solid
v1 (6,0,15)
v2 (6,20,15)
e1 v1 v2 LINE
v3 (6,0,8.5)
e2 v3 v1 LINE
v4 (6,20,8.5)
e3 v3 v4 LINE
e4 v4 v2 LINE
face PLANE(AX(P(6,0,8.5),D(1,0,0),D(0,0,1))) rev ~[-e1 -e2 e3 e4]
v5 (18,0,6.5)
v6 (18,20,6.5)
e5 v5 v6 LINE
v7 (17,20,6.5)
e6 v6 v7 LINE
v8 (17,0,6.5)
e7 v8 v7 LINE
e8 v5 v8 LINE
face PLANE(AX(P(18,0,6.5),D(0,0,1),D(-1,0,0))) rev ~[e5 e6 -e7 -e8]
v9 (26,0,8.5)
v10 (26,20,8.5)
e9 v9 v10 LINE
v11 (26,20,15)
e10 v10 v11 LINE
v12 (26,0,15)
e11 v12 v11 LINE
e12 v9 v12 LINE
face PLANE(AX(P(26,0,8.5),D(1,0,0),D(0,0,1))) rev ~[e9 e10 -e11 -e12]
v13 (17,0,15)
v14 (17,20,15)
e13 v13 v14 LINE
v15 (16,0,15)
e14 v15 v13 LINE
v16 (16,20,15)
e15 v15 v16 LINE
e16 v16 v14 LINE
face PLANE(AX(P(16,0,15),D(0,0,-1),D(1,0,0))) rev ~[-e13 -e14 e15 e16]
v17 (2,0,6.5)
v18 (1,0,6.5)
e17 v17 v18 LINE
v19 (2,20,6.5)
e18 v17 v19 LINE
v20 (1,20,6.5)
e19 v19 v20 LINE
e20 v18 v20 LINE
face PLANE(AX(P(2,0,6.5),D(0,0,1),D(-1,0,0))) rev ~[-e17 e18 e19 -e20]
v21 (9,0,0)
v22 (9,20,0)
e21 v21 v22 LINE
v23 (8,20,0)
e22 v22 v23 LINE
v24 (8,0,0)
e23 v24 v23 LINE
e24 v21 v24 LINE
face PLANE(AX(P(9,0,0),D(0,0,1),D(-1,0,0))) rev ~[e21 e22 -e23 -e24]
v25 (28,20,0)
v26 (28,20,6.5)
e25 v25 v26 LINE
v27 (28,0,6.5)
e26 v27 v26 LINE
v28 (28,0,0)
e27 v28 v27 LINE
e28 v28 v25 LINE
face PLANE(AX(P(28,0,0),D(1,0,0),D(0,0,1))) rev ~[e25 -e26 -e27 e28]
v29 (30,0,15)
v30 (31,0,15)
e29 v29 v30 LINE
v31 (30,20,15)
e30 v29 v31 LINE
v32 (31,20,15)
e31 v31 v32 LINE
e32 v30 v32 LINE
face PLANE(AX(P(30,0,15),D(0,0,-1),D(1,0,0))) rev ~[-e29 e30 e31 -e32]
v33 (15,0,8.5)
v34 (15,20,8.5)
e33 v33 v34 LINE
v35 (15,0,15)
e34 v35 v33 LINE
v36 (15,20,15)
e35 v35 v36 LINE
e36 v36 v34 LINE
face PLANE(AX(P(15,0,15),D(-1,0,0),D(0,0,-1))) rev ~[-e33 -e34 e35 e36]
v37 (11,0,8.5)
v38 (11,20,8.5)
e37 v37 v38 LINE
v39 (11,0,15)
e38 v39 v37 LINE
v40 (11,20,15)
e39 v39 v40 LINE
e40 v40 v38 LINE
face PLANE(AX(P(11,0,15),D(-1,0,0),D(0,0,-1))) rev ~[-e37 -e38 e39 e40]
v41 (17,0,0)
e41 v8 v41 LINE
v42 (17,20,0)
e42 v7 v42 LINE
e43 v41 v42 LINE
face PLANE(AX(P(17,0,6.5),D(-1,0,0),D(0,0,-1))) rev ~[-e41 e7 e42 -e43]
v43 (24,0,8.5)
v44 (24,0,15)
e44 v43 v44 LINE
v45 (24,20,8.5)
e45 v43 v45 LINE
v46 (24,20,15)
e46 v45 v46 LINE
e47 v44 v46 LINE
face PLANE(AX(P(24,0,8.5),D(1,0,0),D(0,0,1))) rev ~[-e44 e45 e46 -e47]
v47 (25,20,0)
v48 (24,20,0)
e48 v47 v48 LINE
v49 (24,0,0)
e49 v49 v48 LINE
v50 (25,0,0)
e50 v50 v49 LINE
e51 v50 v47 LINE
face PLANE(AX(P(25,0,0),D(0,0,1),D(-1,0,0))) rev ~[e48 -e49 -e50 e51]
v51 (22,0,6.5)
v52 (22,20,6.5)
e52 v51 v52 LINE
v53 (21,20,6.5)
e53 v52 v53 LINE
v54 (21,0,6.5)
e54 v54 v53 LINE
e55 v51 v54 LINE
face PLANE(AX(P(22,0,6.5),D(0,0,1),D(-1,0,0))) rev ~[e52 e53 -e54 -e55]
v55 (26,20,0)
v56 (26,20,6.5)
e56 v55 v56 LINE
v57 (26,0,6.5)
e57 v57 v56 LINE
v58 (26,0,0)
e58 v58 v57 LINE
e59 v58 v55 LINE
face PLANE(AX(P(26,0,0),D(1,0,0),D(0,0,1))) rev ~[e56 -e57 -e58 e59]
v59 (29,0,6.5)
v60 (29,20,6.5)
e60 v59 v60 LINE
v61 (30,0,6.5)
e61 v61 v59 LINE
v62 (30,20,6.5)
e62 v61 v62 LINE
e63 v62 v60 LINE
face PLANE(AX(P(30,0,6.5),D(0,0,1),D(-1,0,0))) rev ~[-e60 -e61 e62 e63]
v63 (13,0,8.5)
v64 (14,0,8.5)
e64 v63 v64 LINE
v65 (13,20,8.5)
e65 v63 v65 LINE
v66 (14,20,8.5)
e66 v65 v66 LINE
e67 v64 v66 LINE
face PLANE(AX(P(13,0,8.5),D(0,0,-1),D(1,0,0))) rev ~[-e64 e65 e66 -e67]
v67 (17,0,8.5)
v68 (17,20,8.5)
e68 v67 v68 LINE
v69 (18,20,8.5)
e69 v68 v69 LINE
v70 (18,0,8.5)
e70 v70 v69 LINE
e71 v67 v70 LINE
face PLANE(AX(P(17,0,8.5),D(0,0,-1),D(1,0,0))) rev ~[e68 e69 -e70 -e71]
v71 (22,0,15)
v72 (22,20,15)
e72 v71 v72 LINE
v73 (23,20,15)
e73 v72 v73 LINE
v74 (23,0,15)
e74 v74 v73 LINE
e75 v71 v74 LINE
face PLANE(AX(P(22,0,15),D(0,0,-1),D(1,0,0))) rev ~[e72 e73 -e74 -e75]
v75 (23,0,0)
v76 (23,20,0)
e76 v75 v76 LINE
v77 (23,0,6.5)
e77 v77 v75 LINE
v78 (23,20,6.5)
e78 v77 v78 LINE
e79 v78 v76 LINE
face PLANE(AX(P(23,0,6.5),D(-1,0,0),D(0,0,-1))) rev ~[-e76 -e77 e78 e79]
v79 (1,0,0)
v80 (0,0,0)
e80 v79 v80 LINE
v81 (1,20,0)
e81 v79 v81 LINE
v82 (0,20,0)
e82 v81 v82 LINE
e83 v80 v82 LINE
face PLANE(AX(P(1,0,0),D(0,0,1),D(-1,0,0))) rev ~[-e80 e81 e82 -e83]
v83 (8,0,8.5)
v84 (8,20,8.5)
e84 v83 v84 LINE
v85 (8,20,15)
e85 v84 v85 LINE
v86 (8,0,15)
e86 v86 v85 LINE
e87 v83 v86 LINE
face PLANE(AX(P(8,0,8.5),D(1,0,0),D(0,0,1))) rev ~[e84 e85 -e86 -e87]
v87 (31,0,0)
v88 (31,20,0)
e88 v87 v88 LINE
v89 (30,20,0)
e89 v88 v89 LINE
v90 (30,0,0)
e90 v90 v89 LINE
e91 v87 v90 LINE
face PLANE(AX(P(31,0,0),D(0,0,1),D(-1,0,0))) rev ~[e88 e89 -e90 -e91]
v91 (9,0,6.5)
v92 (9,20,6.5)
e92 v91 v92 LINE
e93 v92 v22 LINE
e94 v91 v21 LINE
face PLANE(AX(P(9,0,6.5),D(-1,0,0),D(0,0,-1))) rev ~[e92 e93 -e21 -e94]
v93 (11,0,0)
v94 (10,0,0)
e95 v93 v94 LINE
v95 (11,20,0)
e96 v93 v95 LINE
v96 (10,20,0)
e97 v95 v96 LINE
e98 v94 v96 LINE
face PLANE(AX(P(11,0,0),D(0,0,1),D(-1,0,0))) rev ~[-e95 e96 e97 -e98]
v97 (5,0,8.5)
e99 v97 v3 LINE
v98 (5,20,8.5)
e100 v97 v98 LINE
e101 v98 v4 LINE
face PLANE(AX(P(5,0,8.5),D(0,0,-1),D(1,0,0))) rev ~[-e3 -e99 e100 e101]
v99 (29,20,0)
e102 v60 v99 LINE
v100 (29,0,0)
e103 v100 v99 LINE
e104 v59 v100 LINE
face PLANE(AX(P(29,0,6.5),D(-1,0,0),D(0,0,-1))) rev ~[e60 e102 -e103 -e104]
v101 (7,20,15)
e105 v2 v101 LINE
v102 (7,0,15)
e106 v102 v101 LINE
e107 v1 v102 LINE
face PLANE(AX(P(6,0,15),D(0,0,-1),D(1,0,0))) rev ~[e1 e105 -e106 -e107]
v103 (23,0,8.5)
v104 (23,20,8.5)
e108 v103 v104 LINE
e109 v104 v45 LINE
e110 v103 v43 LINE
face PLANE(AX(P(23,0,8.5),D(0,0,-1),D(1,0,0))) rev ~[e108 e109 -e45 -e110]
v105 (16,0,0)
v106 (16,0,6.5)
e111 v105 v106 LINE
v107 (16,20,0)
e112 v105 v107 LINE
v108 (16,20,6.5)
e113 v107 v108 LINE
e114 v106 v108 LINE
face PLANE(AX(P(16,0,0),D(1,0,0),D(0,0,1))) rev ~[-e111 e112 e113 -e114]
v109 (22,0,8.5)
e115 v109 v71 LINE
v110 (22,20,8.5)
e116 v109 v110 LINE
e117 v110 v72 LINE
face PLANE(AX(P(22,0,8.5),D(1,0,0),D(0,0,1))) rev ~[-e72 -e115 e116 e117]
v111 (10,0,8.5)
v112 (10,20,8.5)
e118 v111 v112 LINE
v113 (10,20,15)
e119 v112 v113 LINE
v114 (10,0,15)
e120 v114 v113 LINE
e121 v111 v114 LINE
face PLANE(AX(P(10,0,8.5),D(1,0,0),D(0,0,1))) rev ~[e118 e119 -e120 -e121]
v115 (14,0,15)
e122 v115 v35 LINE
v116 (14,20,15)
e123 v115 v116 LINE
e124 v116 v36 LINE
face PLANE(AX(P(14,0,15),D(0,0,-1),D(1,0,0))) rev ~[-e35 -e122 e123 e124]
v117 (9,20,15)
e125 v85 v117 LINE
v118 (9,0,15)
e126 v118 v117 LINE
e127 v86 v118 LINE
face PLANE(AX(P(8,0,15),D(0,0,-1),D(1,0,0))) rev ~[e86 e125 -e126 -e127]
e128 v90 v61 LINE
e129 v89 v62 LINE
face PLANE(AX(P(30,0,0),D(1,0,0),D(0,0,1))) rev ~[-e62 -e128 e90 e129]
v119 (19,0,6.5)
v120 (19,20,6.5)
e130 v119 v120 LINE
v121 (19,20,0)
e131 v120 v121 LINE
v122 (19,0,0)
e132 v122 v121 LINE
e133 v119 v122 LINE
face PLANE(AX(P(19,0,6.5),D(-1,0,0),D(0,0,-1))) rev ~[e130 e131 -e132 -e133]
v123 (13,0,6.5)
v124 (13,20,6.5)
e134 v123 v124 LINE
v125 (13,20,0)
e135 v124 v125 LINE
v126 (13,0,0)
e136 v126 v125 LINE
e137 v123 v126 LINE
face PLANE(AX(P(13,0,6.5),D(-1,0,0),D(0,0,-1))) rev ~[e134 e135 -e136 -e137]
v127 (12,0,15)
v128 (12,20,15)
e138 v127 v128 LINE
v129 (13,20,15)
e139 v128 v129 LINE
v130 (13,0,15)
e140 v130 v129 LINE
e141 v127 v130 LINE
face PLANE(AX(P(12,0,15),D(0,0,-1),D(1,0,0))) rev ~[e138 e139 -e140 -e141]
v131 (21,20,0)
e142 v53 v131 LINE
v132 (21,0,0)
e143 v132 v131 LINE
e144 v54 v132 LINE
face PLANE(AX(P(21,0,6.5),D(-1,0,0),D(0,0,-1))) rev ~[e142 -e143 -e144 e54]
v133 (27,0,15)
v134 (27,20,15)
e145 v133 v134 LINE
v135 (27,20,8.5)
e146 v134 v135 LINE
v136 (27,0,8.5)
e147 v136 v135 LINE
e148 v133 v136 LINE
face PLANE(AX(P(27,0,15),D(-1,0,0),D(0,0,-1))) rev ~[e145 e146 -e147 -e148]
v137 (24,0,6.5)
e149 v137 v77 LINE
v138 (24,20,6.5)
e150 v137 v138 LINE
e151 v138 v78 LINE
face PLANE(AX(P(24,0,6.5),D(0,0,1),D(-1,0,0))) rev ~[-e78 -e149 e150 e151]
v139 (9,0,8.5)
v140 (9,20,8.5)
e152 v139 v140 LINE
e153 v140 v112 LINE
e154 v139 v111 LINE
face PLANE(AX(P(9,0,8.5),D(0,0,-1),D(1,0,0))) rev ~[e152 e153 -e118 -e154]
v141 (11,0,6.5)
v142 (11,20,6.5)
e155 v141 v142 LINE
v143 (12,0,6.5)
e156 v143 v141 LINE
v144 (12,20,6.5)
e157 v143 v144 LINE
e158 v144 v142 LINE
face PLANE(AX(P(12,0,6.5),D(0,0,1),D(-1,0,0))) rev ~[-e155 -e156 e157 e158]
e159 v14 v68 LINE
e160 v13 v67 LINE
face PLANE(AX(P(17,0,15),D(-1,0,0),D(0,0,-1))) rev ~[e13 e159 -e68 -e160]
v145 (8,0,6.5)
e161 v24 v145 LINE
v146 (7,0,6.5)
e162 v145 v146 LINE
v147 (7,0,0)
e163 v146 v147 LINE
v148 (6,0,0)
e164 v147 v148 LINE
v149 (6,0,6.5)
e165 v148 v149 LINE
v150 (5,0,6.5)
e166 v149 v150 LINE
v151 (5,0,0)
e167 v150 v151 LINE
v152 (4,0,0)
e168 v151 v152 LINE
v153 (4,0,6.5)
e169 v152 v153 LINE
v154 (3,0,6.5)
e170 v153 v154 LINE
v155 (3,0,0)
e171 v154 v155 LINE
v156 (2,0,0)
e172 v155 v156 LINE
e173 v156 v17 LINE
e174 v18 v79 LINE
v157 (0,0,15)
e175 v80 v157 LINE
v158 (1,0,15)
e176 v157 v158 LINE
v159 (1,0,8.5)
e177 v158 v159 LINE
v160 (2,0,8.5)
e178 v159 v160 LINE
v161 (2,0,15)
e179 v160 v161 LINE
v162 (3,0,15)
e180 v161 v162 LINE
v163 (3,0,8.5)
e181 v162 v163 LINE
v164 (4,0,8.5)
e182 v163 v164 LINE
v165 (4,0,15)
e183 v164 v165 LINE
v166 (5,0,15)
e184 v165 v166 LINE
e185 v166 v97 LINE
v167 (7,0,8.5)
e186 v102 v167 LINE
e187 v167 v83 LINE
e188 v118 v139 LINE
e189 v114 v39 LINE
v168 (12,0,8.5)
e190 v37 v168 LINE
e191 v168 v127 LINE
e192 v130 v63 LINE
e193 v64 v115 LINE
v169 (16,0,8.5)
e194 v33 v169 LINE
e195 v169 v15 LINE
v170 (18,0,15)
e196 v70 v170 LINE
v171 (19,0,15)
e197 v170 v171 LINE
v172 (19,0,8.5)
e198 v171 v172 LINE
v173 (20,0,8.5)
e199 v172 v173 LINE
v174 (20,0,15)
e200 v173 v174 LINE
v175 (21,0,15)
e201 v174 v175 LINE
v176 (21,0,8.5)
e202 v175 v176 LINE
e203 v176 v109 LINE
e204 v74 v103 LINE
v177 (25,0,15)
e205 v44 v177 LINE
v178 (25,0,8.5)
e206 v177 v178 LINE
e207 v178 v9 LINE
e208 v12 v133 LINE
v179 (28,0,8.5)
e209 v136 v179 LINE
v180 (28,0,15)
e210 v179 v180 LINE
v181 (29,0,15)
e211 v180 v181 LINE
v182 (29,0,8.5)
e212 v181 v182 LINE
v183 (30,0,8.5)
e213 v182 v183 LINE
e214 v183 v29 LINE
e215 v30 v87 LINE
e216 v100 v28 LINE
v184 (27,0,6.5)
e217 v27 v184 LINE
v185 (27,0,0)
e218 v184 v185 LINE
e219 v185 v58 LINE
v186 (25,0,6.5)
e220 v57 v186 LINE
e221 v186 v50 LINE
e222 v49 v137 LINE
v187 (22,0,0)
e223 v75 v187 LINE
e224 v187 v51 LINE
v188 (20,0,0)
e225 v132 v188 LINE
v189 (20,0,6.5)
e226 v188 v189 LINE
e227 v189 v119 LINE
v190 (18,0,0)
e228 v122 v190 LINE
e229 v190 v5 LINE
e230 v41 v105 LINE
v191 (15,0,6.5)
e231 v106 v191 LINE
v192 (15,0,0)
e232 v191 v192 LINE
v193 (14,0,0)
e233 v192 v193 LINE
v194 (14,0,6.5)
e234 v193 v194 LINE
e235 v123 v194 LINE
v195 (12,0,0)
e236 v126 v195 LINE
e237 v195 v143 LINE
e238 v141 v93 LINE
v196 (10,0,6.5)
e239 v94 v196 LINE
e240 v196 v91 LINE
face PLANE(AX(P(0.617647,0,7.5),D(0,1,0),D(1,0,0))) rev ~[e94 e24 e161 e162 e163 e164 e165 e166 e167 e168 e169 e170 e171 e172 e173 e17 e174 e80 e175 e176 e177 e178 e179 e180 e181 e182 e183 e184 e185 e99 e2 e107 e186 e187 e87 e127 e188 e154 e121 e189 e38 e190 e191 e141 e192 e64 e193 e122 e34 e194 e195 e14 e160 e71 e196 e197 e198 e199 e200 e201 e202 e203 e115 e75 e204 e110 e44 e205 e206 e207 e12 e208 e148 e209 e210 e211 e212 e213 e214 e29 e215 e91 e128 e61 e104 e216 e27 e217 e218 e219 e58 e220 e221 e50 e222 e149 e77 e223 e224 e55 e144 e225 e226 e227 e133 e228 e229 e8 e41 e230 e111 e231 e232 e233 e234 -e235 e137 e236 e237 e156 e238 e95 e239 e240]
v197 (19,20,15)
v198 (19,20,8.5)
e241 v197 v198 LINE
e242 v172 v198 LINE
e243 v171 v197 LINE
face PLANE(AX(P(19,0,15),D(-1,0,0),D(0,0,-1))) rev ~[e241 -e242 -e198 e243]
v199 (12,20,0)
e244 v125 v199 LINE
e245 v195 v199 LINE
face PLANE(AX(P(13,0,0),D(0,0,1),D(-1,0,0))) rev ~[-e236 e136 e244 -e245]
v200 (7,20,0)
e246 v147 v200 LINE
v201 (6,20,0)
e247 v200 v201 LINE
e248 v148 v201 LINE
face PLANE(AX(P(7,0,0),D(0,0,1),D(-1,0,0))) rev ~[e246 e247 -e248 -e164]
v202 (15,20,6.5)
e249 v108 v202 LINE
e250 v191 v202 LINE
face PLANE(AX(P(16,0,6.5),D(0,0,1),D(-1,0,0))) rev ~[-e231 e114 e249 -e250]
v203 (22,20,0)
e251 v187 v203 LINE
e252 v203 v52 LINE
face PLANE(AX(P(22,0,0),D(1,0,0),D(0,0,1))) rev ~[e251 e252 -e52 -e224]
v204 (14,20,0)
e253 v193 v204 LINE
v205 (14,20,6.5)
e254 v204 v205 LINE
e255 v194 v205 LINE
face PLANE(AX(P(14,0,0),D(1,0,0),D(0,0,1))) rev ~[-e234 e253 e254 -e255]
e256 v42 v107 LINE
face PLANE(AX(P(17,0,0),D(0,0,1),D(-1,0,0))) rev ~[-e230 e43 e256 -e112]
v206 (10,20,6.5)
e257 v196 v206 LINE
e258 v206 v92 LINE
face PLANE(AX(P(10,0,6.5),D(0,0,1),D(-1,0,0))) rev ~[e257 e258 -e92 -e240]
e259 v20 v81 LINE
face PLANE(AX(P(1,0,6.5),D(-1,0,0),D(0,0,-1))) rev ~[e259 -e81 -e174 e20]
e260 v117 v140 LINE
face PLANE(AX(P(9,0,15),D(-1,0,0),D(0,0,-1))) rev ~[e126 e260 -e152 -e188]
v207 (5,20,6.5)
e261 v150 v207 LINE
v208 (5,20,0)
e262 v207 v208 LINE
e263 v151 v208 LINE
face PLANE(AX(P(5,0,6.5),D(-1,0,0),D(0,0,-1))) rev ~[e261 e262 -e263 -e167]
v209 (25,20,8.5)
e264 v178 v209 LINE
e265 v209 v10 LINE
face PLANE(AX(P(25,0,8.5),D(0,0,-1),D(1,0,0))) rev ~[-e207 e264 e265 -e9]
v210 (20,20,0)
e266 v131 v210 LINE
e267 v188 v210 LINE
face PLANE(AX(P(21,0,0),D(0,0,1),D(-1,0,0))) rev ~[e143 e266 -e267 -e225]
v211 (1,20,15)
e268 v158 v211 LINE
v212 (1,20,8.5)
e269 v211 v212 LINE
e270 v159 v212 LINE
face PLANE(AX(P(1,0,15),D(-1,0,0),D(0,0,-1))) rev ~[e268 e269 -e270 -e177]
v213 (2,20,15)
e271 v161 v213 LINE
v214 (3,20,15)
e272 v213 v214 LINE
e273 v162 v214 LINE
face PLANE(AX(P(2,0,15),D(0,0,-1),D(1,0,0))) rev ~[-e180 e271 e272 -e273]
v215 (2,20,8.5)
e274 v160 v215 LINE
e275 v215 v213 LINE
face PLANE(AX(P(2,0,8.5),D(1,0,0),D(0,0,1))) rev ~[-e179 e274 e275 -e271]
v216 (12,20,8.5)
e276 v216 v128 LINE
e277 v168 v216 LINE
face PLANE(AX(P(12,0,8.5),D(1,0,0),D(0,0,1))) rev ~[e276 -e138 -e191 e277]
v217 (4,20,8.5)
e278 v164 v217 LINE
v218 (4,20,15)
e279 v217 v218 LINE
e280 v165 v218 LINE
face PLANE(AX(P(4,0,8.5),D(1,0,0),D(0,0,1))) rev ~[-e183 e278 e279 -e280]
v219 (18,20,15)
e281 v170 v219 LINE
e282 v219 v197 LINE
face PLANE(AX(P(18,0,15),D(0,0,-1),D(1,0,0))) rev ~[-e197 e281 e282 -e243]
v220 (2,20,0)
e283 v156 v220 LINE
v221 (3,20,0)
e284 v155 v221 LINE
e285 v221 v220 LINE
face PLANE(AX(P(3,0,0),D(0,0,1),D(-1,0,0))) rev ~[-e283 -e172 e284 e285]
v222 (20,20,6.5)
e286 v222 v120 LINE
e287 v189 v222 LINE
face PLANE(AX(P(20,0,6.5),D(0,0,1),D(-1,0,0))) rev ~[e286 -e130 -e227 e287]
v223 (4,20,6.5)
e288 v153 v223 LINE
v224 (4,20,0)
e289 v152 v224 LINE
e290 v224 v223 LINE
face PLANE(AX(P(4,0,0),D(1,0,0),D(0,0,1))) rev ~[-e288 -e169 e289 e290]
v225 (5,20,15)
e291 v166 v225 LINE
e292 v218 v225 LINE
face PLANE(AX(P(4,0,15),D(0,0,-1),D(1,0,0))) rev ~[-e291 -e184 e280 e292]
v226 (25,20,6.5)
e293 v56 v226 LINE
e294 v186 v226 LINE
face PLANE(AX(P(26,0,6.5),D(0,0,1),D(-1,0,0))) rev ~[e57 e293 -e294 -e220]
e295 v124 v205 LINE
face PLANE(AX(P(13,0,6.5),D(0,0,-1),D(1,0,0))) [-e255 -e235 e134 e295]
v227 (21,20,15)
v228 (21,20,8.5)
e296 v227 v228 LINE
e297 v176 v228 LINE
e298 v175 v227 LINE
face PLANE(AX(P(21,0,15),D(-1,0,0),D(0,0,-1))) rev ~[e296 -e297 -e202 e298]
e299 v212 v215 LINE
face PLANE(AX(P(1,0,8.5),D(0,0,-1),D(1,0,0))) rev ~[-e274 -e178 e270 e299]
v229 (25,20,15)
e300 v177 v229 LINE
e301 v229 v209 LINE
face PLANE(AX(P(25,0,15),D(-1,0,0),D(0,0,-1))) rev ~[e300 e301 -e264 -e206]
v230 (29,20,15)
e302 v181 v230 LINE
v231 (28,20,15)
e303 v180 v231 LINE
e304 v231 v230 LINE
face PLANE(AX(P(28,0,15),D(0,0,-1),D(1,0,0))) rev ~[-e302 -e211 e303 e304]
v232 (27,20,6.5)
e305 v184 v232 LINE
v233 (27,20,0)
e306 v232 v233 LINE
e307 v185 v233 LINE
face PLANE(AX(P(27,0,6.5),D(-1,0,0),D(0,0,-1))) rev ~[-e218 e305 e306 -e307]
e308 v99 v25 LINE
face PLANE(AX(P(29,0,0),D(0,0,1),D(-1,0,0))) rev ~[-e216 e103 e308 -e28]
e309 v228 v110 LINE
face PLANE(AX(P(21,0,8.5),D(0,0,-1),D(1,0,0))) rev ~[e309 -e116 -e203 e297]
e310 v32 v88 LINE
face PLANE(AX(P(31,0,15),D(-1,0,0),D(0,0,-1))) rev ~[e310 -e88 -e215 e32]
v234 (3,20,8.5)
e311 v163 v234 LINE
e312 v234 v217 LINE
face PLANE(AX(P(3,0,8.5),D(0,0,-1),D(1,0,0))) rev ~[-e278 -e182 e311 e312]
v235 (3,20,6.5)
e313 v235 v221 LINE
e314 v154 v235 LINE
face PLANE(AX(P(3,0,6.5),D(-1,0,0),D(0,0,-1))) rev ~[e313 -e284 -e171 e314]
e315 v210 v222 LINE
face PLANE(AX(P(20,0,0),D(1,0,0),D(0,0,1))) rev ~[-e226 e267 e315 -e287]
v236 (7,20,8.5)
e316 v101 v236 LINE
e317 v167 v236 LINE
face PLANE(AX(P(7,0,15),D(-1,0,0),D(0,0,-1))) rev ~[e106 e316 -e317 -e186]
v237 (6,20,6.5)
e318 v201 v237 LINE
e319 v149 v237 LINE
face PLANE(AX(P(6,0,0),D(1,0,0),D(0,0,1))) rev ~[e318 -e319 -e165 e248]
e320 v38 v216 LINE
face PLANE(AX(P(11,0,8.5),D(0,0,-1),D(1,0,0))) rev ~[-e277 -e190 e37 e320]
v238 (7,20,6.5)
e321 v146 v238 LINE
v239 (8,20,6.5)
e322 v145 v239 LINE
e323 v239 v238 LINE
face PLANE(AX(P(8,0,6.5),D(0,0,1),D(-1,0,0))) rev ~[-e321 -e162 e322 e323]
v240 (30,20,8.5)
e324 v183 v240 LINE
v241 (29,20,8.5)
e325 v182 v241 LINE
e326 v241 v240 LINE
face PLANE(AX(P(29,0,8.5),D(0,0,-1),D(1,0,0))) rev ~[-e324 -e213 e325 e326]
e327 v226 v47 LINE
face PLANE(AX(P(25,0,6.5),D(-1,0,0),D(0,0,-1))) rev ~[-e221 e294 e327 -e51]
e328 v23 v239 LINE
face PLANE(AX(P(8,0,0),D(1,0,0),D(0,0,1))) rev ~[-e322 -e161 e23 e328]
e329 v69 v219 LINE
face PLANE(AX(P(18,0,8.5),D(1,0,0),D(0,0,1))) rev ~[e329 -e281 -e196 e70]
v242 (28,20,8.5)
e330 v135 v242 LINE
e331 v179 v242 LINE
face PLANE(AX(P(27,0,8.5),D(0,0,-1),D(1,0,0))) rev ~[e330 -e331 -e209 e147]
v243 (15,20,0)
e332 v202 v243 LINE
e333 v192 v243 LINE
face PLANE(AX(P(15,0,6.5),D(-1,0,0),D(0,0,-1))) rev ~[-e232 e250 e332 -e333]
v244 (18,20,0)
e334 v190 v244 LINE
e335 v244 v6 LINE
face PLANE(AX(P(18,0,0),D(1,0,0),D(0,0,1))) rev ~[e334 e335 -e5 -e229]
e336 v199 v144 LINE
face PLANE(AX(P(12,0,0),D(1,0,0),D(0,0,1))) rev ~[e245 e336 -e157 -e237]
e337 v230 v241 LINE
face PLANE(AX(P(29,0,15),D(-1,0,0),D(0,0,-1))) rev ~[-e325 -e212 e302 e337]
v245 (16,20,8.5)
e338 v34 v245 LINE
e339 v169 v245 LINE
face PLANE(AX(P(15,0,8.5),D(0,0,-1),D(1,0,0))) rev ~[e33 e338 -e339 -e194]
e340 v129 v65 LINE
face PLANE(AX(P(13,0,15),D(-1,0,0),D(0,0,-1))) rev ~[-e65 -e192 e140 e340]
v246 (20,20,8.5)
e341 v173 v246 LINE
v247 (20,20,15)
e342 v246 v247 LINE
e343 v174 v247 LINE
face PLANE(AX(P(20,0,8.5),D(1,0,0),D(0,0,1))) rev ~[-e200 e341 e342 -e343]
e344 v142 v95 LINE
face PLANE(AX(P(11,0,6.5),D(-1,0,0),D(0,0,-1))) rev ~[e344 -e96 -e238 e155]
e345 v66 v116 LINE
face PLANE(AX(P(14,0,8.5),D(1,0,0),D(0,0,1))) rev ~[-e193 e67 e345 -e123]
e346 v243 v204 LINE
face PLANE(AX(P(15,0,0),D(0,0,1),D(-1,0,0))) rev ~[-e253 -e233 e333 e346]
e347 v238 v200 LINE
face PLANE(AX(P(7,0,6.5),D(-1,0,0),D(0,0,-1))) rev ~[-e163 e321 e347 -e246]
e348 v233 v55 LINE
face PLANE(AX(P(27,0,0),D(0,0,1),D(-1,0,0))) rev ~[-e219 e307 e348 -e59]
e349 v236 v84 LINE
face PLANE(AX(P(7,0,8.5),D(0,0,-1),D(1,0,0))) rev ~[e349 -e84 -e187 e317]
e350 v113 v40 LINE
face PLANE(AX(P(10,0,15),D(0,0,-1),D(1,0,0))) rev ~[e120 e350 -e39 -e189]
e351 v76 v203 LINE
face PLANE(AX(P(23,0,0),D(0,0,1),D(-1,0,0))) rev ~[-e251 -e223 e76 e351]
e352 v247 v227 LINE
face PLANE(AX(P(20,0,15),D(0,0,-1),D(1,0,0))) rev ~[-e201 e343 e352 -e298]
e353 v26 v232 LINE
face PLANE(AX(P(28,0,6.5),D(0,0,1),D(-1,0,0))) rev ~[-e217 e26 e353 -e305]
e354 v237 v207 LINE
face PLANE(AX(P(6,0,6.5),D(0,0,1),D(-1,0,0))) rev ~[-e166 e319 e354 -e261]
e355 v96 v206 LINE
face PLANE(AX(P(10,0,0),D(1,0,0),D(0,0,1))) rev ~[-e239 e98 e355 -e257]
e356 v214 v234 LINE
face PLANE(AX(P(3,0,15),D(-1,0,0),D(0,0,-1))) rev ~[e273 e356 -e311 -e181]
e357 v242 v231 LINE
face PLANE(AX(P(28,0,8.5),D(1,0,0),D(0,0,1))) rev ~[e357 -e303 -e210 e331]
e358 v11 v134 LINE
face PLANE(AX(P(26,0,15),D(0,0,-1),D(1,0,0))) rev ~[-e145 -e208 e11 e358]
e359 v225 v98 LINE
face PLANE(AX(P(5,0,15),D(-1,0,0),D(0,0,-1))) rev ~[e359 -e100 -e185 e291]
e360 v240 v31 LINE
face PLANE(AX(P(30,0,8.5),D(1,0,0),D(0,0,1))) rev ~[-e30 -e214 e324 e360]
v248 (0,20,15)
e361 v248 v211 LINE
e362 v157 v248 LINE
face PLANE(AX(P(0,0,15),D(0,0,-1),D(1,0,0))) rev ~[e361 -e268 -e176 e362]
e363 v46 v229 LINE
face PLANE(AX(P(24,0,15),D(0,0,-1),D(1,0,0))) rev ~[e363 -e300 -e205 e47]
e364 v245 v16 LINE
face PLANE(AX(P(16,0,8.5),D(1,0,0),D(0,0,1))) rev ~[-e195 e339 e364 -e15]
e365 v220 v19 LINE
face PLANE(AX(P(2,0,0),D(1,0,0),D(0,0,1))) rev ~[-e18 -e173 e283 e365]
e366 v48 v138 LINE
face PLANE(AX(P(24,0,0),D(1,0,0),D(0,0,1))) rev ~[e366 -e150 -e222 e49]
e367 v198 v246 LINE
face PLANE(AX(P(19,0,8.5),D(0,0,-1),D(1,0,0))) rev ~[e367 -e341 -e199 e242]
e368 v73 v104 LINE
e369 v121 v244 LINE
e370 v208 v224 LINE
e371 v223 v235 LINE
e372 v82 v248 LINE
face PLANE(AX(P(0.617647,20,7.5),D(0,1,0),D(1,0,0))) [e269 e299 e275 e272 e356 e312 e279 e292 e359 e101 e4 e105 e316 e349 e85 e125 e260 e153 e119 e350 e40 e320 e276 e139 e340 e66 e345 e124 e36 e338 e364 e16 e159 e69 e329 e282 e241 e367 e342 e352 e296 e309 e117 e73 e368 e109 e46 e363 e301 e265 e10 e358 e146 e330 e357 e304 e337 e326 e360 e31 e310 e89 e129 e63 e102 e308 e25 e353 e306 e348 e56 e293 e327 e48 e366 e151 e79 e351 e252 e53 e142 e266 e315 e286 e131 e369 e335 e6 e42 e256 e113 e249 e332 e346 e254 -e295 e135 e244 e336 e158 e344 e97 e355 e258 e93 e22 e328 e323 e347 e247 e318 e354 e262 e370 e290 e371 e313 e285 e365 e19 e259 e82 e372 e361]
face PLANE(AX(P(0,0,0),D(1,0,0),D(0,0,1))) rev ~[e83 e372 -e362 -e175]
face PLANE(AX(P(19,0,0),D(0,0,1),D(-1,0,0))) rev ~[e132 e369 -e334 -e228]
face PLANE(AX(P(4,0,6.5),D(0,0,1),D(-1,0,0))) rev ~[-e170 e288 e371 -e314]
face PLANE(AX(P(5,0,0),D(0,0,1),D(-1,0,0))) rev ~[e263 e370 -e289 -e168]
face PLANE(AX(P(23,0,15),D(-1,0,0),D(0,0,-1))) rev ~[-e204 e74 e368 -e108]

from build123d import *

# Parameters (mm, degrees)
SKETCH2_W           = 1
SKETCH2_H           = 2
BOSS_EXTRUDE1_DEPTH = 20


with BuildPart() as part:
    # Sketch2 → Boss-Extrude1 (new body)
    with BuildSketch(Plane(origin=(0, 0, 0), x_dir=(1, 0, 0), z_dir=(0, 1, 0))):
        Polygon((1, 0), (0, 0), (0, -15), (1, -15), (1, -8.5), (2, -8.5), (2, -6.5), (1, -6.5), align=None)
        Polygon((2, 0), (2, -6.5), (2, -8.5), (2, -15), (3, -15), (3, -8.5), (4, -8.5), (4, -6.5), (3, -6.5), (3, 0), align=None)
        Polygon((4, 0), (4, -6.5), (4, -8.5), (4, -15), (5, -15), (5, -8.5), (6, -8.5), (6, -6.5), (5, -6.5), (5, 0), align=None)
        Polygon((6, 0), (6, -6.5), (6, -8.5), (6, -15), (7, -15), (7, -8.5), (8, -8.5), (8, -6.5), (7, -6.5), (7, 0), align=None)
        Polygon((8, 0), (8, -6.5), (8, -8.5), (8, -15), (9, -15), (9, -8.5), (10, -8.5), (10, -6.5), (9, -6.5), (9, 0), align=None)
        Polygon((10, 0), (10, -6.5), (10, -8.5), (10, -15), (11, -15), (11, -8.5), (12, -8.5), (12, -6.5), (11, -6.5), (11, 0), align=None)
        Polygon((12, 0), (12, -6.5), (12, -8.5), (12, -15), (13, -15), (13, -8.5), (13, -6.5), (13, 0), align=None)
        with Locations((13.5, -7.5)):
            Rectangle(SKETCH2_W, SKETCH2_H)
        Polygon((14, 0), (14, -6.5), (14, -8.5), (14, -15), (15, -15), (15, -8.5), (16, -8.5), (16, -6.5), (15, -6.5), (15, 0), align=None)
        Polygon((16, 0), (16, -6.5), (16, -8.5), (16, -15), (17, -15), (17, -8.5), (18, -8.5), (18, -6.5), (17, -6.5), (17, 0), align=None)
        Polygon((18, 0), (18, -6.5), (18, -8.5), (18, -15), (19, -15), (19, -8.5), (20, -8.5), (20, -6.5), (19, -6.5), (19, 0), align=None)
        Polygon((20, 0), (20, -6.5), (20, -8.5), (20, -15), (21, -15), (21, -8.5), (22, -8.5), (22, -6.5), (21, -6.5), (21, 0), align=None)
        Polygon((22, 0), (22, -6.5), (22, -8.5), (22, -15), (23, -15), (23, -8.5), (24, -8.5), (24, -6.5), (23, -6.5), (23, 0), align=None)
        Polygon((24, 0), (24, -6.5), (24, -8.5), (24, -15), (25, -15), (25, -8.5), (26, -8.5), (26, -6.5), (25, -6.5), (25, 0), align=None)
        Polygon((26, 0), (26, -6.5), (26, -8.5), (26, -15), (27, -15), (27, -8.5), (28, -8.5), (28, -6.5), (27, -6.5), (27, 0), align=None)
        Polygon((28, 0), (28, -6.5), (28, -8.5), (28, -15), (29, -15), (29, -8.5), (30, -8.5), (30, -6.5), (29, -6.5), (29, 0), align=None)
        Polygon((30, 0), (30, -6.5), (30, -8.5), (30, -15), (31, -15), (31, 0), align=None)
    extrude(amount=BOSS_EXTRUDE1_DEPTH)


solid = part.part
